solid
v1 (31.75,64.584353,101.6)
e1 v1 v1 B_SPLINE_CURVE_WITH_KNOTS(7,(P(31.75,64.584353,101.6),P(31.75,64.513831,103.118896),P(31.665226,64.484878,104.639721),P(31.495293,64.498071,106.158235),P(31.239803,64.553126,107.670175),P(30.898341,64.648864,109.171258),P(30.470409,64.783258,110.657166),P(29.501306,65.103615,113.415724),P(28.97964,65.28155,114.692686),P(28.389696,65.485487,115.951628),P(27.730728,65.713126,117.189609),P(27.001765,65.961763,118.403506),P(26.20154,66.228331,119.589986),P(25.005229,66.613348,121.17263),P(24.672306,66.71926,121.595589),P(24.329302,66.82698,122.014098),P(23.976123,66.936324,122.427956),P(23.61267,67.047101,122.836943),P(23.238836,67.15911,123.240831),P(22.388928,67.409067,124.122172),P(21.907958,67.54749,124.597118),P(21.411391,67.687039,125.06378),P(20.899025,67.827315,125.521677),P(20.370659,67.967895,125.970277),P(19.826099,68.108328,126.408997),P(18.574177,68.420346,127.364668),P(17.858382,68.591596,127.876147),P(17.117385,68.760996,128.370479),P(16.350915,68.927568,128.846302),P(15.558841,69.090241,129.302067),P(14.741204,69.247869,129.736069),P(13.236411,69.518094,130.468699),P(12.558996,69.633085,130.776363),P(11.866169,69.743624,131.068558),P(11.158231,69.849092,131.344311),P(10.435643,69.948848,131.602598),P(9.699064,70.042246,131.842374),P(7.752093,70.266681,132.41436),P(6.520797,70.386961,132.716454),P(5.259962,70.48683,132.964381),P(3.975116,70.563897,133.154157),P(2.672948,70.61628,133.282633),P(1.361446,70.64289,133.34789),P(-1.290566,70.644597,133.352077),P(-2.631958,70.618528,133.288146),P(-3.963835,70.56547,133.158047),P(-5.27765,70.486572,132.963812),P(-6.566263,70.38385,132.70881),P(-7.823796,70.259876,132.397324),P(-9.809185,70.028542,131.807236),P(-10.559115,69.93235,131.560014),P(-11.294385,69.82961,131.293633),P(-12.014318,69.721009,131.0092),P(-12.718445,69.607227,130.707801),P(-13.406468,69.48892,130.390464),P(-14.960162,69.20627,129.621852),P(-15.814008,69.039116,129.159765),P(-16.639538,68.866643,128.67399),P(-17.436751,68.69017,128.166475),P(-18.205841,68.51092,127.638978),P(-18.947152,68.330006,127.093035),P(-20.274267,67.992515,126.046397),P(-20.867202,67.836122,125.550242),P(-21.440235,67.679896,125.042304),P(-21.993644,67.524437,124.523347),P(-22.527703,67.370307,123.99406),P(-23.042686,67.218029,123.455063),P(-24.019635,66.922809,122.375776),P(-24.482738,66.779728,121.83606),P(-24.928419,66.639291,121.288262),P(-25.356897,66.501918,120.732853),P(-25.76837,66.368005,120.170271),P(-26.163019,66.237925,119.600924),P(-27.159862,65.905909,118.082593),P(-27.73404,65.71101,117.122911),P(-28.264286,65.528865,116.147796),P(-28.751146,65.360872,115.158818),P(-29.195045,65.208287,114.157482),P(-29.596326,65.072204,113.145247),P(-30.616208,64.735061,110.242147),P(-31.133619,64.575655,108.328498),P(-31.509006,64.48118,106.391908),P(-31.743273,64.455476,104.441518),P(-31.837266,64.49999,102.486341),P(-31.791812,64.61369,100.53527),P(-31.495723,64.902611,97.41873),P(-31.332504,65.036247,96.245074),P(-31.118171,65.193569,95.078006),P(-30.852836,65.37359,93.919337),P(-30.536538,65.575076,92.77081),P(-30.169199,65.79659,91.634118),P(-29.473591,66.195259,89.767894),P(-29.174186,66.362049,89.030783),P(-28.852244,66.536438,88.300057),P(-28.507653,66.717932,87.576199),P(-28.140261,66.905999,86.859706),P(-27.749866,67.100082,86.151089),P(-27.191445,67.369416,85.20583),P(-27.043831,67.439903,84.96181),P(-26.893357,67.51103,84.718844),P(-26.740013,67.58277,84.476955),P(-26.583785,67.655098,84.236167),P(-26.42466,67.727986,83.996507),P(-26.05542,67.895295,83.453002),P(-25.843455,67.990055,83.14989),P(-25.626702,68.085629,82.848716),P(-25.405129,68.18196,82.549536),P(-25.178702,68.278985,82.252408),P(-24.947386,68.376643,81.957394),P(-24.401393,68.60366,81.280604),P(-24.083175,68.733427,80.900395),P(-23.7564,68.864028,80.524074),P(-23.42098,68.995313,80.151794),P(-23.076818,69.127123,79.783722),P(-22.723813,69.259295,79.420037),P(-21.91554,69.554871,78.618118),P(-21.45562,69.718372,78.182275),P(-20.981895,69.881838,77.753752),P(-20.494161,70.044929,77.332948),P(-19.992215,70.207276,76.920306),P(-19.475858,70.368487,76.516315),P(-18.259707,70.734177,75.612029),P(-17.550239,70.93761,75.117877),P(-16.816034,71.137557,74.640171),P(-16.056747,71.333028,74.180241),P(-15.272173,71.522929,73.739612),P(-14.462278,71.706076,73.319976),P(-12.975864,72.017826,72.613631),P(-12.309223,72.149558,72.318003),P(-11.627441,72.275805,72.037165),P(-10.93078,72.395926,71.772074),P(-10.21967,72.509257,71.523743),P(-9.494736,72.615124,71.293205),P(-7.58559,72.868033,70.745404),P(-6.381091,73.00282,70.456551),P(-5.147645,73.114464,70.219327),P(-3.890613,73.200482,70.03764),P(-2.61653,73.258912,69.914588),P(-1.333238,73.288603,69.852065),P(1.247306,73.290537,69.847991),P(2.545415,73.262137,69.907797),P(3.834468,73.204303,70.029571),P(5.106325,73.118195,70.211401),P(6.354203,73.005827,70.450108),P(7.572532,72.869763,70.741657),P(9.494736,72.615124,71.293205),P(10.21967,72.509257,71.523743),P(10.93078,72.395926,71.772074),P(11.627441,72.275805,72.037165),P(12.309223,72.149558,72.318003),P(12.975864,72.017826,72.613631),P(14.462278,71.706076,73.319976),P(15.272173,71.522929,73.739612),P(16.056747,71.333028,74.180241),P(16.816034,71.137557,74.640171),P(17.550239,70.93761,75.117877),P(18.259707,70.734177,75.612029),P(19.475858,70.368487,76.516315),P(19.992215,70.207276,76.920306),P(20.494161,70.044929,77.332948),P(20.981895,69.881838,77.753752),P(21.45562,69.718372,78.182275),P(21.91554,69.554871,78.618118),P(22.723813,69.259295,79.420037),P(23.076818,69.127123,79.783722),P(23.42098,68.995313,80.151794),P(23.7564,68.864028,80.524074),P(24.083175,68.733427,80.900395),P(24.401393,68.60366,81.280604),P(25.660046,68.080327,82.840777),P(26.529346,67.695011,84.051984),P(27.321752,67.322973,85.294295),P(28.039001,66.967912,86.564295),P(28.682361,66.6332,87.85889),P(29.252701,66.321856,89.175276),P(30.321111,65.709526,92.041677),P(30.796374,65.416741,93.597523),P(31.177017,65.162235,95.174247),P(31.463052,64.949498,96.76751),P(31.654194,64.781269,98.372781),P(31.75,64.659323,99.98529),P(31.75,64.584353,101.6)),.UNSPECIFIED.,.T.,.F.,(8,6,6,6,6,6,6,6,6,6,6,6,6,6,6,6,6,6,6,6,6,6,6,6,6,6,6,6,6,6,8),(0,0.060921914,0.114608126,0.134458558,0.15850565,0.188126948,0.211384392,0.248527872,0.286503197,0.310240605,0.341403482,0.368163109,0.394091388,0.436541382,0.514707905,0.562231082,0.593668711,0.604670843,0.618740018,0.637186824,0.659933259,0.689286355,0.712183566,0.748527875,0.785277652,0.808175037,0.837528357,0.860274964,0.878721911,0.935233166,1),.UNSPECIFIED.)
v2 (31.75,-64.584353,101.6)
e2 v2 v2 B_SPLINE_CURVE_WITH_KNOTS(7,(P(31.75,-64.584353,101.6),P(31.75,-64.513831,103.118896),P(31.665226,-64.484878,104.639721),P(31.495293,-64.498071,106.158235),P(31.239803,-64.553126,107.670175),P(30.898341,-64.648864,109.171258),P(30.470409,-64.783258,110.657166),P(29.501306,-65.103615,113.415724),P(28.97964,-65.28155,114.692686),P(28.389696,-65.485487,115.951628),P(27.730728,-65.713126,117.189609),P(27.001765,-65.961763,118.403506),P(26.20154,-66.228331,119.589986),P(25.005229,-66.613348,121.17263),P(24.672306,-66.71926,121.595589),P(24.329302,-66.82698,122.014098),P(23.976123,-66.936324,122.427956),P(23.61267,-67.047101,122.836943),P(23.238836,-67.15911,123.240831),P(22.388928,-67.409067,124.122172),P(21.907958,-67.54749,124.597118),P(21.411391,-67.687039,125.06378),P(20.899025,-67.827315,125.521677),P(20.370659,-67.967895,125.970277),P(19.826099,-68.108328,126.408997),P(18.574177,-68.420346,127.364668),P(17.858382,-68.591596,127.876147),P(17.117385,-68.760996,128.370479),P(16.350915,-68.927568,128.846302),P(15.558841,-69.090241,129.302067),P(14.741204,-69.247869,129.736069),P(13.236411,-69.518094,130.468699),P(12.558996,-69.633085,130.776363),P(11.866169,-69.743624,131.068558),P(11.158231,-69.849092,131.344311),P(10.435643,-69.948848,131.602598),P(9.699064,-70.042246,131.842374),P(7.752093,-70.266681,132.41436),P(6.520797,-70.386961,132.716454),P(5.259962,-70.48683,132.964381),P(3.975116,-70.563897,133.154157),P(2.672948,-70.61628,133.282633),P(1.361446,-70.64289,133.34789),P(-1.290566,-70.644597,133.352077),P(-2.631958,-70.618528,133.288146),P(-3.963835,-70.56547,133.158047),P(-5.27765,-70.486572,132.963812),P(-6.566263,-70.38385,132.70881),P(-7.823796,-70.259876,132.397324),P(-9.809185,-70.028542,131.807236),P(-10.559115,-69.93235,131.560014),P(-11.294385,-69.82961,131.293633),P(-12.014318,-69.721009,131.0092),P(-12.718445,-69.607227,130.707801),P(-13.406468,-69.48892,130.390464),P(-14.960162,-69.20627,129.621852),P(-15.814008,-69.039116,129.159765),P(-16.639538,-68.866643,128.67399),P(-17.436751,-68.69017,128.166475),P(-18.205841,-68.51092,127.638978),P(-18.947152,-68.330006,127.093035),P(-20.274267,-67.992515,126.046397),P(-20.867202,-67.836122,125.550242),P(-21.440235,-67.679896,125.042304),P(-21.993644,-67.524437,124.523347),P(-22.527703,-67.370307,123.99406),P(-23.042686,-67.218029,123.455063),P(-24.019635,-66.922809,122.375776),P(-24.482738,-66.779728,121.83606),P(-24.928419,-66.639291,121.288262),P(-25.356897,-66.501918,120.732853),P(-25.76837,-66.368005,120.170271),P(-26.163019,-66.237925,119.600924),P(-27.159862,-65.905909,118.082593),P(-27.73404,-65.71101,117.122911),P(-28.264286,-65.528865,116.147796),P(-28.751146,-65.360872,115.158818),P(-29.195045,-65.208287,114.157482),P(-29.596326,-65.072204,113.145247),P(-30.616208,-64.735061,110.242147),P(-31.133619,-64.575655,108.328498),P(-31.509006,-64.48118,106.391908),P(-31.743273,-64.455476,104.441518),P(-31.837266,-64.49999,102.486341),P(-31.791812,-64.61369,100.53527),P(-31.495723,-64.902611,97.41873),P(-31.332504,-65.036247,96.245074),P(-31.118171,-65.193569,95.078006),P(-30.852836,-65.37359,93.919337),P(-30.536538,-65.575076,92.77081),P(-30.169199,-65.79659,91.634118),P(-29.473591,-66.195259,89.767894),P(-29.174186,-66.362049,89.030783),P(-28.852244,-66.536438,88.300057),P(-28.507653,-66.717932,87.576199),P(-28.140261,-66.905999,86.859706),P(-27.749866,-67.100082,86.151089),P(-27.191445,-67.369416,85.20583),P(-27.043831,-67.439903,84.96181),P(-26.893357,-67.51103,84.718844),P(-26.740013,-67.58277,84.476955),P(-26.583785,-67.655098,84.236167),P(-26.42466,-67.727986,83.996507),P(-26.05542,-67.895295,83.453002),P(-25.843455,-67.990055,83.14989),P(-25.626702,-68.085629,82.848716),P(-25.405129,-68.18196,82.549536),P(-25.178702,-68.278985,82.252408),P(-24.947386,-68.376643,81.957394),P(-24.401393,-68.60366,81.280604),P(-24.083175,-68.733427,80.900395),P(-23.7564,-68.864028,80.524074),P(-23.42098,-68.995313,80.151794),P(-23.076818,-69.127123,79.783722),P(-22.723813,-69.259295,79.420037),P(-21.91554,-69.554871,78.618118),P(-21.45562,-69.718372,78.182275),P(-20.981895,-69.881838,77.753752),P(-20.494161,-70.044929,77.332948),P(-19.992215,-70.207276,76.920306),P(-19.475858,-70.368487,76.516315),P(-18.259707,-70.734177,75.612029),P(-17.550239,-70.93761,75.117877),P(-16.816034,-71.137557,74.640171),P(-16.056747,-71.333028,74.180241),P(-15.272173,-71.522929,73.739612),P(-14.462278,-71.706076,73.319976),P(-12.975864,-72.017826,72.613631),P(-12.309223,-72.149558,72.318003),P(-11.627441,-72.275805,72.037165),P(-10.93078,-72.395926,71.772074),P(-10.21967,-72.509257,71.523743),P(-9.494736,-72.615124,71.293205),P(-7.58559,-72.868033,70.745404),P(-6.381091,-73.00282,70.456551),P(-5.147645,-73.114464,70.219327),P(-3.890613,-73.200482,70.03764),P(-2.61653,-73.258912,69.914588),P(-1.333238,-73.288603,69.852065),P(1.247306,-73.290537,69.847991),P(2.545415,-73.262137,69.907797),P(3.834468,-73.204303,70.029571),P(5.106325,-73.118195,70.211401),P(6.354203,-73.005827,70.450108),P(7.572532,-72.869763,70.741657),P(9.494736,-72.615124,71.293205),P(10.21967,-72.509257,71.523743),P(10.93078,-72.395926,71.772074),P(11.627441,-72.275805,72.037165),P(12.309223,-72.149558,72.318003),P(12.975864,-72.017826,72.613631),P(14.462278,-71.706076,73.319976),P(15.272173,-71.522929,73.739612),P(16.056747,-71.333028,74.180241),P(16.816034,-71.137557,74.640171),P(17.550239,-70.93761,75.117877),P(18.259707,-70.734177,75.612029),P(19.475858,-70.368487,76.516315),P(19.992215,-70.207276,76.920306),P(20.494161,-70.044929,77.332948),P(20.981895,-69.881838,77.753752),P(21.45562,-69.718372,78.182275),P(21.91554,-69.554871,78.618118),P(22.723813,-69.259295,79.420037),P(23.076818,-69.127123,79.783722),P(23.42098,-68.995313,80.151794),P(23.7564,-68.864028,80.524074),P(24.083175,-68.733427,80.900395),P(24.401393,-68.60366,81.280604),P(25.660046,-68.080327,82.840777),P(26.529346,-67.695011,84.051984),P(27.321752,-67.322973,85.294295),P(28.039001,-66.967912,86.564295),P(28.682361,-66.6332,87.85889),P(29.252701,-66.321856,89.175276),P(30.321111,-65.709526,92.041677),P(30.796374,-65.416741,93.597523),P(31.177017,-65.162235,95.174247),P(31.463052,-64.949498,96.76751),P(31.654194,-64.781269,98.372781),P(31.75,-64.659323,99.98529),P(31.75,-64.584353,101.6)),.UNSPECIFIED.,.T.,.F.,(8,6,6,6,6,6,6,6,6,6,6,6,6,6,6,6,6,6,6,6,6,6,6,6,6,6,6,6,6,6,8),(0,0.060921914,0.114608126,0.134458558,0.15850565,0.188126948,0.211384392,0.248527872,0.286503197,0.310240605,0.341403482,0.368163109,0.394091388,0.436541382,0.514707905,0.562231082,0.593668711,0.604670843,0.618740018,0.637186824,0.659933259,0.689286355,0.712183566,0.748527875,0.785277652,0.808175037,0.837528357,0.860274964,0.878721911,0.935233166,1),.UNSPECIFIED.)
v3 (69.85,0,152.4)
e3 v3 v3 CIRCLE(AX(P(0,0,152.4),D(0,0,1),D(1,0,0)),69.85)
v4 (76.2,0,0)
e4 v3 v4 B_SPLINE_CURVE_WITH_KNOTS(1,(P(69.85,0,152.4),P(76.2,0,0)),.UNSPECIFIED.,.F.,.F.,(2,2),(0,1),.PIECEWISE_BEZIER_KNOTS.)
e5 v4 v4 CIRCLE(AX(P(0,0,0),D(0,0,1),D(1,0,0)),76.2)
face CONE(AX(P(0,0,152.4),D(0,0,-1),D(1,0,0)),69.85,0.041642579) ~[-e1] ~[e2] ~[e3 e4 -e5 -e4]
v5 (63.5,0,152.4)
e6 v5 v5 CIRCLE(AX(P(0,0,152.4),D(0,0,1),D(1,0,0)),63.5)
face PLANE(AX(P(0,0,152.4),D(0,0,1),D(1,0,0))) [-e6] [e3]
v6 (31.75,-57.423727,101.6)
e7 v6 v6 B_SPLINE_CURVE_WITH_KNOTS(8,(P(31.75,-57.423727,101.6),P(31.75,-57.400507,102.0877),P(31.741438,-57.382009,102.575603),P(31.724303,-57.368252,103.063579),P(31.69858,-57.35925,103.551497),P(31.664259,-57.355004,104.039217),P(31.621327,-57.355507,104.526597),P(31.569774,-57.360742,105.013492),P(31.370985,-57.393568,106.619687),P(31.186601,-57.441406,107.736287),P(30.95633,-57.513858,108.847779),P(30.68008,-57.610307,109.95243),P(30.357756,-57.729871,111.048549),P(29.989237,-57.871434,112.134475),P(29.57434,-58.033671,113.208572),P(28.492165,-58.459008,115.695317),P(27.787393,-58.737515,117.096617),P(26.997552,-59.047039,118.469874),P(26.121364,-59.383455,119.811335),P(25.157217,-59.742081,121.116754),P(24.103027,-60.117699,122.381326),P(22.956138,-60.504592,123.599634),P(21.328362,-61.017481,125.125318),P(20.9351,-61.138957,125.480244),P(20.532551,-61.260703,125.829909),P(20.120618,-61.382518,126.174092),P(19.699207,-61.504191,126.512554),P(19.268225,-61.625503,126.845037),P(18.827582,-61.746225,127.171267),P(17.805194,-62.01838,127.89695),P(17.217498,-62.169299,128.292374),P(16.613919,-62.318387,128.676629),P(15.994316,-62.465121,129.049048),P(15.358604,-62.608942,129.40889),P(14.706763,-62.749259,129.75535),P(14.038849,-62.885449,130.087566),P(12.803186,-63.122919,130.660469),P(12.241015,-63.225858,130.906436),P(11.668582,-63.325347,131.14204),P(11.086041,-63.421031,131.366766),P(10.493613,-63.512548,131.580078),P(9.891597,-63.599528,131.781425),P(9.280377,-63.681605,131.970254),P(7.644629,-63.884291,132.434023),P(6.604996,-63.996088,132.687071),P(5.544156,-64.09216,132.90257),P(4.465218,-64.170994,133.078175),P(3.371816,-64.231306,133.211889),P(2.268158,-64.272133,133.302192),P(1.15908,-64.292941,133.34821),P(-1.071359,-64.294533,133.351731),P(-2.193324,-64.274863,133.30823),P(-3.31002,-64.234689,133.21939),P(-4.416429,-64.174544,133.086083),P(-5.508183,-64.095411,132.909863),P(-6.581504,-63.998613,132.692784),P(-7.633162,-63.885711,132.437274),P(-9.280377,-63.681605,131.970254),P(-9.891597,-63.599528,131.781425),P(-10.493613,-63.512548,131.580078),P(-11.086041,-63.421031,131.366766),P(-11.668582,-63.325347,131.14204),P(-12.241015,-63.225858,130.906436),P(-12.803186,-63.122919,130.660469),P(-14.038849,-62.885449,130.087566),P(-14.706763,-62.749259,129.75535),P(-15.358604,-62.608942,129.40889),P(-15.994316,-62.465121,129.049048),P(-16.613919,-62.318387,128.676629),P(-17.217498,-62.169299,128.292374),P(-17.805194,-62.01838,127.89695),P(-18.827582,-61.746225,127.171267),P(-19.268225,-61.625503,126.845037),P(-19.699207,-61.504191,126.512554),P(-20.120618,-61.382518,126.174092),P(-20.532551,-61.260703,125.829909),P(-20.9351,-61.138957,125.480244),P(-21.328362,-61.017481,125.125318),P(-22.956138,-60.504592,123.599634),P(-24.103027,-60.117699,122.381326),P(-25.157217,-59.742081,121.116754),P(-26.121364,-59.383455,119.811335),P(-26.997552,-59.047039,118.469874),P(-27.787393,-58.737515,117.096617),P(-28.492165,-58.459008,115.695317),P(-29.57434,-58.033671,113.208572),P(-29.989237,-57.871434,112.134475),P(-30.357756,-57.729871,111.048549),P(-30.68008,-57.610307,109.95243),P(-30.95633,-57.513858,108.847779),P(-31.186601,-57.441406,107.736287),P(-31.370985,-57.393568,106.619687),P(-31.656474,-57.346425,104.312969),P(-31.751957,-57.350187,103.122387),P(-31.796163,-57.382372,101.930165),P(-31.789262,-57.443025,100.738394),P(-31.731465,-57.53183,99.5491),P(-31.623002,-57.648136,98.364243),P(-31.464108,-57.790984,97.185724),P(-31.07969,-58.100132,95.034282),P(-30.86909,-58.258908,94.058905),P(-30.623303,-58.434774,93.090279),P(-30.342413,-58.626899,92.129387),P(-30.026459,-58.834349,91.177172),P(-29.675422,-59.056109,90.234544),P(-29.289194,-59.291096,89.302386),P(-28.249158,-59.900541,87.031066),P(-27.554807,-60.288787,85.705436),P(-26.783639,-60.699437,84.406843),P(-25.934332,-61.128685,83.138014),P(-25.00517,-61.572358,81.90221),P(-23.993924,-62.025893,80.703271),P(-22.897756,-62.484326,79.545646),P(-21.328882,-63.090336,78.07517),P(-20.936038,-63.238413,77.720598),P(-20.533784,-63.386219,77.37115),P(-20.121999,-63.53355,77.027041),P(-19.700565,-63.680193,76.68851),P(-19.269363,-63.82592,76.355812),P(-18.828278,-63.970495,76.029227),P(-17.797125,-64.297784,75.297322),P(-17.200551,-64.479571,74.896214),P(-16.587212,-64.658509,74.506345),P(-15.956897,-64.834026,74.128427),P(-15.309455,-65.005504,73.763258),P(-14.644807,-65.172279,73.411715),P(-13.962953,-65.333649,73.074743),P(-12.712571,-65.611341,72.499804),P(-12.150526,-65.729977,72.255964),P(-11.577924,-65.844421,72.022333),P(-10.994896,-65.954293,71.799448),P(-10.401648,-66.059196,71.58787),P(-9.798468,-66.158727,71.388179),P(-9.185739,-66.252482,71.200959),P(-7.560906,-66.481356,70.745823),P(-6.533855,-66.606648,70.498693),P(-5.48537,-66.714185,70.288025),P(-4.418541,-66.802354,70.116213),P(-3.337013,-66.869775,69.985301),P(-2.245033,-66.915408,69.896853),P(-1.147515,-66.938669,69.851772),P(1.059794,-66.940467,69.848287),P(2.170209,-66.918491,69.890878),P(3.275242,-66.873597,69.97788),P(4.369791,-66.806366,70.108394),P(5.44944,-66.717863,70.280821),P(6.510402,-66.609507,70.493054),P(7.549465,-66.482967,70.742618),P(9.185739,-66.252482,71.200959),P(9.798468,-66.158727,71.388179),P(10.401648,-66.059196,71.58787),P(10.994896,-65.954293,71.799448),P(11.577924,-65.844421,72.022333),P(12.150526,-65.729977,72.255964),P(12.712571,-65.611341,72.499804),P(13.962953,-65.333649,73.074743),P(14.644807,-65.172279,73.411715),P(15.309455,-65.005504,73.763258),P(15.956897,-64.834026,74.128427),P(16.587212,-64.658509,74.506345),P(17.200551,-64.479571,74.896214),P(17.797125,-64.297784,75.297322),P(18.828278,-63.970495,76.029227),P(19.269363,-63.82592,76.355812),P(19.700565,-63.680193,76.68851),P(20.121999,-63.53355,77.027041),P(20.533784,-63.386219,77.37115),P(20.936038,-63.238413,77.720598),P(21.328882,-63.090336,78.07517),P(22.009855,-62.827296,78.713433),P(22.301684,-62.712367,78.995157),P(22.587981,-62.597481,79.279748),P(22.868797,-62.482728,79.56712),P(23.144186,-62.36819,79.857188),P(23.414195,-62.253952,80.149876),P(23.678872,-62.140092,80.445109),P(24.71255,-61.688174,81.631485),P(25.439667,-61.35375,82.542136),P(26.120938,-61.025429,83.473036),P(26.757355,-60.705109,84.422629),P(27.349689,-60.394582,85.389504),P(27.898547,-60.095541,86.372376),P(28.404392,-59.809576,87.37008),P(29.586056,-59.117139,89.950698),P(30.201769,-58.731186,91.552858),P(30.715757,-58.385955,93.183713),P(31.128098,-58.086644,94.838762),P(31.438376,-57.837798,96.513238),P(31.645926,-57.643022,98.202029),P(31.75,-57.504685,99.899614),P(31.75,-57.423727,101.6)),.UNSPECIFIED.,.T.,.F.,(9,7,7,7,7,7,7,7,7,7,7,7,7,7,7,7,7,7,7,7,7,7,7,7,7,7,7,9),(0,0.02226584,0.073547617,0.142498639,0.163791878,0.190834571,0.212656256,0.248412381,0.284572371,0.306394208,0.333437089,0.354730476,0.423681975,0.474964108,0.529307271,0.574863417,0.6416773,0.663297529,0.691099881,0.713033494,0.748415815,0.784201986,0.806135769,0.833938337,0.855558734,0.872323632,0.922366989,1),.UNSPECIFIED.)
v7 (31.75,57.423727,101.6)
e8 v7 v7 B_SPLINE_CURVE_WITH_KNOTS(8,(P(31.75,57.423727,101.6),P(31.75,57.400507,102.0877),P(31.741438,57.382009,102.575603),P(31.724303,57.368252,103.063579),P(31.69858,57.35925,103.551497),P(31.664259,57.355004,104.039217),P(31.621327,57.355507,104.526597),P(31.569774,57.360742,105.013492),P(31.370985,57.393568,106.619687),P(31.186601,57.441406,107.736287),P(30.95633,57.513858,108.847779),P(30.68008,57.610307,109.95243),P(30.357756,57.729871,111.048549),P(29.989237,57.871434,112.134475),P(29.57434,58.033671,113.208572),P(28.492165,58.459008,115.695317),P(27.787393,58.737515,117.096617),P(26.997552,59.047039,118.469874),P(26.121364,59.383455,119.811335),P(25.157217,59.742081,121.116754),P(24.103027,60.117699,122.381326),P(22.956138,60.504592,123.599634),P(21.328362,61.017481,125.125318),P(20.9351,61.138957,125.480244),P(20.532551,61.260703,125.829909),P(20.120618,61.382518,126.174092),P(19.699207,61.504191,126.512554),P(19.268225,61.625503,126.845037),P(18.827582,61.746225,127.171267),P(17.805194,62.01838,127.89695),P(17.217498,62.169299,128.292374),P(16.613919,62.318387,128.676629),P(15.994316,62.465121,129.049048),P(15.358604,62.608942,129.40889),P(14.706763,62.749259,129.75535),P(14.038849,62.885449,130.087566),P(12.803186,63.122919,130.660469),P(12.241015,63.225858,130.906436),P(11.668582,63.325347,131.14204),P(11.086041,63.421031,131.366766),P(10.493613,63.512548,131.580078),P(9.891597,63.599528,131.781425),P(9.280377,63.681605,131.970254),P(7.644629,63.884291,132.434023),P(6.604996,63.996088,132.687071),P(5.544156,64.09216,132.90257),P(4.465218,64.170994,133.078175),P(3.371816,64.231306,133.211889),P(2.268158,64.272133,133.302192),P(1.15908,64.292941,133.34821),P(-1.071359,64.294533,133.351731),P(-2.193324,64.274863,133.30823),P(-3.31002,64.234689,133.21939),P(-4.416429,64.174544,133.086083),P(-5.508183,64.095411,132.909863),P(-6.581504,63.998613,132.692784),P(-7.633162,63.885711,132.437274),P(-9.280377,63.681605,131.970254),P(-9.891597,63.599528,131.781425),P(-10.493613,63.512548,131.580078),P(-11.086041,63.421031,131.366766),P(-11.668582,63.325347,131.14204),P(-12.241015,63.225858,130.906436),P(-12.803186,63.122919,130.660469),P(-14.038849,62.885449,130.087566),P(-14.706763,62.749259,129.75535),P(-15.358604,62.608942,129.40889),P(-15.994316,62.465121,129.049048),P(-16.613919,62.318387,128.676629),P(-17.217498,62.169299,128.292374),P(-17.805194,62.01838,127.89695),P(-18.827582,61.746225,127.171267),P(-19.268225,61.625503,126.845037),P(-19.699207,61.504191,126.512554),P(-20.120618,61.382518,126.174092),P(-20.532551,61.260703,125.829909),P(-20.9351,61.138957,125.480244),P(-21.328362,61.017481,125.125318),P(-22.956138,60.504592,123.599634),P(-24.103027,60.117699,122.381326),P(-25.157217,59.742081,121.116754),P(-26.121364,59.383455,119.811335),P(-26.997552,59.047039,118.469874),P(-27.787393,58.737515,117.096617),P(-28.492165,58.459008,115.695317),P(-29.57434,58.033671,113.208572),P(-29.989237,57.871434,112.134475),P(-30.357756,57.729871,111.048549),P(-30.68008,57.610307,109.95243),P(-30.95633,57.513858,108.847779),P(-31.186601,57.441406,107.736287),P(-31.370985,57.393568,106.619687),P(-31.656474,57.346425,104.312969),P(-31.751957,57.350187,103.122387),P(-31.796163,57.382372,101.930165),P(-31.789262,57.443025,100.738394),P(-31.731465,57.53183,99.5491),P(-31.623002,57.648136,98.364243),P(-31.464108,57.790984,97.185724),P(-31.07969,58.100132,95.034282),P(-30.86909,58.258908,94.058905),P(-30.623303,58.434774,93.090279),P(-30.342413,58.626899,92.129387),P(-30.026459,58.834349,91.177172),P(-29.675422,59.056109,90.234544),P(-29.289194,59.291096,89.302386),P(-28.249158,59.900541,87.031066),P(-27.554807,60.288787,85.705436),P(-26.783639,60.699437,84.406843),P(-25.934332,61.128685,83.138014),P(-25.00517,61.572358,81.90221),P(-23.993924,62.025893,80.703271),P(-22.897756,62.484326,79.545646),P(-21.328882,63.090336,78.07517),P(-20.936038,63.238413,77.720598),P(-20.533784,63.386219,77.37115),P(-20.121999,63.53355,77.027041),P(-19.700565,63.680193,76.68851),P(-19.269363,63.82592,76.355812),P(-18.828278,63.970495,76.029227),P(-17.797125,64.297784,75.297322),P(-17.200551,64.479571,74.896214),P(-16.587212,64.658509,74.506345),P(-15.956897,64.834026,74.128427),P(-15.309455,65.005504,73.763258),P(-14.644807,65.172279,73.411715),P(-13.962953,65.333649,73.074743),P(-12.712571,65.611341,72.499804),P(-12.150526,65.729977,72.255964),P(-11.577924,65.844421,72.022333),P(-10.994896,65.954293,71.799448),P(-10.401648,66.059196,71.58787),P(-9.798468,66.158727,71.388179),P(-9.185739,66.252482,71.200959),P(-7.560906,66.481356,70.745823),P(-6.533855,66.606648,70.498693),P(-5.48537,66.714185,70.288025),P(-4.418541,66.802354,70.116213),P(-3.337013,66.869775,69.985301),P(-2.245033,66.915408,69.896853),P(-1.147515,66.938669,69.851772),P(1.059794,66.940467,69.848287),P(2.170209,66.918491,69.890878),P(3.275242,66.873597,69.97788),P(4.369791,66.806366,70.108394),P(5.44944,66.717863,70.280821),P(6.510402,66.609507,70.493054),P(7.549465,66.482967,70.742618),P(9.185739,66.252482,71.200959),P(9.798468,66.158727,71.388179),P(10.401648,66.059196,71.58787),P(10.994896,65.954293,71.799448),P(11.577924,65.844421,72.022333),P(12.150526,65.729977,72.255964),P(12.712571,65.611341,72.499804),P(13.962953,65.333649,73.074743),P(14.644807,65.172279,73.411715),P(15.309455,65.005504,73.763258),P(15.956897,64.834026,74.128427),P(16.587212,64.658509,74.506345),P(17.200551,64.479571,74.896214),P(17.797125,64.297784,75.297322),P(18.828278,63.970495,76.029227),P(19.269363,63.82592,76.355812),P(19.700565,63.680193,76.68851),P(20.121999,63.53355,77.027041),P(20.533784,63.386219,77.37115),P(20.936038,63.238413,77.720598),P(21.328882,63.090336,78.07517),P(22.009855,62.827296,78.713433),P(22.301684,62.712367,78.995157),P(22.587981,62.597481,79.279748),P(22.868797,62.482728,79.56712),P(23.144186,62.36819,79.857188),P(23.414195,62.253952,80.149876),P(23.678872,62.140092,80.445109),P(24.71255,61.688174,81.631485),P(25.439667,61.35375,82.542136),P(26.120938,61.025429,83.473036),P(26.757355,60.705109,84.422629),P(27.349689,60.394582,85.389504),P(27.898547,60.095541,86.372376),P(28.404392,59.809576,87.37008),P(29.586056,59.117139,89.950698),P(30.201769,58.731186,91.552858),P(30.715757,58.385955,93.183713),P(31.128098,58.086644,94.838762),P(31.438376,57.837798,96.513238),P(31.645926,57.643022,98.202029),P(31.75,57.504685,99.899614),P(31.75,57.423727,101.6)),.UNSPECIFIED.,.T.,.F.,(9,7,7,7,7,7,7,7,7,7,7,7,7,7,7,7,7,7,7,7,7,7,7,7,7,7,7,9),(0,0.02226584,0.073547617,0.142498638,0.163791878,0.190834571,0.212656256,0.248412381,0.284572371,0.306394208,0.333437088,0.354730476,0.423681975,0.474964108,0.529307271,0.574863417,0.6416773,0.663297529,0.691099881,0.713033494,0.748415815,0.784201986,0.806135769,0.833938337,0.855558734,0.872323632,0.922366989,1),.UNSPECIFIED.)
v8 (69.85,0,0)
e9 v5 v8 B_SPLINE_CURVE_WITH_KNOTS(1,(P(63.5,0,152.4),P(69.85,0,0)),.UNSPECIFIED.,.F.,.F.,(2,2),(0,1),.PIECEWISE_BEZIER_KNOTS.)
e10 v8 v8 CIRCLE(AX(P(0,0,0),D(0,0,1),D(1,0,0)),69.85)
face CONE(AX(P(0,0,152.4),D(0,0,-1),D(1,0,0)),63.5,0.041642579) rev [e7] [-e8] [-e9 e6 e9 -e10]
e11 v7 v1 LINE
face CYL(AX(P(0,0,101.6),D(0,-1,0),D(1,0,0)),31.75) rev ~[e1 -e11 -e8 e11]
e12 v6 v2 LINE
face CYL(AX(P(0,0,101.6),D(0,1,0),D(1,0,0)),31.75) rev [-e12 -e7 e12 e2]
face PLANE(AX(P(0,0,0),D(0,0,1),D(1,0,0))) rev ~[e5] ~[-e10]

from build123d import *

# Parameters (mm, degrees)
F3_R          = 69.85
F4_R          = 76.2
F1_R          = 63.5
F2_R          = 69.85
F7_R          = 31.75
F8_DEPTH      = 127
F8_DEPTH_BACK = 127


with BuildPart() as f5:
    # F3 (on offset) → F5 section 0
    with BuildSketch(Plane.XY.offset(152.4)):
        Circle(F3_R)
    # F4 (on face) → F5 section 1
    with BuildSketch(Plane.XY):
        Circle(F4_R)
    loft()

    # F1 (on offset) → F6 section 0
    with BuildSketch(Plane.XY.offset(152.4)):
        Circle(F1_R)
    # F2 (on Top) → F6 section 1
    with BuildSketch(Plane.XY):
        Circle(F2_R)
    loft(mode=Mode.SUBTRACT)

    # F7 (on Front) → F8 (cut, two sides)
    with BuildSketch(Plane.XZ) as f8_sk:
        with Locations((0, 101.6)):
            Circle(F7_R)
    extrude(amount=F8_DEPTH, mode=Mode.SUBTRACT)
    extrude(f8_sk.sketch, amount=-F8_DEPTH_BACK, mode=Mode.SUBTRACT)


solid = f5.part
